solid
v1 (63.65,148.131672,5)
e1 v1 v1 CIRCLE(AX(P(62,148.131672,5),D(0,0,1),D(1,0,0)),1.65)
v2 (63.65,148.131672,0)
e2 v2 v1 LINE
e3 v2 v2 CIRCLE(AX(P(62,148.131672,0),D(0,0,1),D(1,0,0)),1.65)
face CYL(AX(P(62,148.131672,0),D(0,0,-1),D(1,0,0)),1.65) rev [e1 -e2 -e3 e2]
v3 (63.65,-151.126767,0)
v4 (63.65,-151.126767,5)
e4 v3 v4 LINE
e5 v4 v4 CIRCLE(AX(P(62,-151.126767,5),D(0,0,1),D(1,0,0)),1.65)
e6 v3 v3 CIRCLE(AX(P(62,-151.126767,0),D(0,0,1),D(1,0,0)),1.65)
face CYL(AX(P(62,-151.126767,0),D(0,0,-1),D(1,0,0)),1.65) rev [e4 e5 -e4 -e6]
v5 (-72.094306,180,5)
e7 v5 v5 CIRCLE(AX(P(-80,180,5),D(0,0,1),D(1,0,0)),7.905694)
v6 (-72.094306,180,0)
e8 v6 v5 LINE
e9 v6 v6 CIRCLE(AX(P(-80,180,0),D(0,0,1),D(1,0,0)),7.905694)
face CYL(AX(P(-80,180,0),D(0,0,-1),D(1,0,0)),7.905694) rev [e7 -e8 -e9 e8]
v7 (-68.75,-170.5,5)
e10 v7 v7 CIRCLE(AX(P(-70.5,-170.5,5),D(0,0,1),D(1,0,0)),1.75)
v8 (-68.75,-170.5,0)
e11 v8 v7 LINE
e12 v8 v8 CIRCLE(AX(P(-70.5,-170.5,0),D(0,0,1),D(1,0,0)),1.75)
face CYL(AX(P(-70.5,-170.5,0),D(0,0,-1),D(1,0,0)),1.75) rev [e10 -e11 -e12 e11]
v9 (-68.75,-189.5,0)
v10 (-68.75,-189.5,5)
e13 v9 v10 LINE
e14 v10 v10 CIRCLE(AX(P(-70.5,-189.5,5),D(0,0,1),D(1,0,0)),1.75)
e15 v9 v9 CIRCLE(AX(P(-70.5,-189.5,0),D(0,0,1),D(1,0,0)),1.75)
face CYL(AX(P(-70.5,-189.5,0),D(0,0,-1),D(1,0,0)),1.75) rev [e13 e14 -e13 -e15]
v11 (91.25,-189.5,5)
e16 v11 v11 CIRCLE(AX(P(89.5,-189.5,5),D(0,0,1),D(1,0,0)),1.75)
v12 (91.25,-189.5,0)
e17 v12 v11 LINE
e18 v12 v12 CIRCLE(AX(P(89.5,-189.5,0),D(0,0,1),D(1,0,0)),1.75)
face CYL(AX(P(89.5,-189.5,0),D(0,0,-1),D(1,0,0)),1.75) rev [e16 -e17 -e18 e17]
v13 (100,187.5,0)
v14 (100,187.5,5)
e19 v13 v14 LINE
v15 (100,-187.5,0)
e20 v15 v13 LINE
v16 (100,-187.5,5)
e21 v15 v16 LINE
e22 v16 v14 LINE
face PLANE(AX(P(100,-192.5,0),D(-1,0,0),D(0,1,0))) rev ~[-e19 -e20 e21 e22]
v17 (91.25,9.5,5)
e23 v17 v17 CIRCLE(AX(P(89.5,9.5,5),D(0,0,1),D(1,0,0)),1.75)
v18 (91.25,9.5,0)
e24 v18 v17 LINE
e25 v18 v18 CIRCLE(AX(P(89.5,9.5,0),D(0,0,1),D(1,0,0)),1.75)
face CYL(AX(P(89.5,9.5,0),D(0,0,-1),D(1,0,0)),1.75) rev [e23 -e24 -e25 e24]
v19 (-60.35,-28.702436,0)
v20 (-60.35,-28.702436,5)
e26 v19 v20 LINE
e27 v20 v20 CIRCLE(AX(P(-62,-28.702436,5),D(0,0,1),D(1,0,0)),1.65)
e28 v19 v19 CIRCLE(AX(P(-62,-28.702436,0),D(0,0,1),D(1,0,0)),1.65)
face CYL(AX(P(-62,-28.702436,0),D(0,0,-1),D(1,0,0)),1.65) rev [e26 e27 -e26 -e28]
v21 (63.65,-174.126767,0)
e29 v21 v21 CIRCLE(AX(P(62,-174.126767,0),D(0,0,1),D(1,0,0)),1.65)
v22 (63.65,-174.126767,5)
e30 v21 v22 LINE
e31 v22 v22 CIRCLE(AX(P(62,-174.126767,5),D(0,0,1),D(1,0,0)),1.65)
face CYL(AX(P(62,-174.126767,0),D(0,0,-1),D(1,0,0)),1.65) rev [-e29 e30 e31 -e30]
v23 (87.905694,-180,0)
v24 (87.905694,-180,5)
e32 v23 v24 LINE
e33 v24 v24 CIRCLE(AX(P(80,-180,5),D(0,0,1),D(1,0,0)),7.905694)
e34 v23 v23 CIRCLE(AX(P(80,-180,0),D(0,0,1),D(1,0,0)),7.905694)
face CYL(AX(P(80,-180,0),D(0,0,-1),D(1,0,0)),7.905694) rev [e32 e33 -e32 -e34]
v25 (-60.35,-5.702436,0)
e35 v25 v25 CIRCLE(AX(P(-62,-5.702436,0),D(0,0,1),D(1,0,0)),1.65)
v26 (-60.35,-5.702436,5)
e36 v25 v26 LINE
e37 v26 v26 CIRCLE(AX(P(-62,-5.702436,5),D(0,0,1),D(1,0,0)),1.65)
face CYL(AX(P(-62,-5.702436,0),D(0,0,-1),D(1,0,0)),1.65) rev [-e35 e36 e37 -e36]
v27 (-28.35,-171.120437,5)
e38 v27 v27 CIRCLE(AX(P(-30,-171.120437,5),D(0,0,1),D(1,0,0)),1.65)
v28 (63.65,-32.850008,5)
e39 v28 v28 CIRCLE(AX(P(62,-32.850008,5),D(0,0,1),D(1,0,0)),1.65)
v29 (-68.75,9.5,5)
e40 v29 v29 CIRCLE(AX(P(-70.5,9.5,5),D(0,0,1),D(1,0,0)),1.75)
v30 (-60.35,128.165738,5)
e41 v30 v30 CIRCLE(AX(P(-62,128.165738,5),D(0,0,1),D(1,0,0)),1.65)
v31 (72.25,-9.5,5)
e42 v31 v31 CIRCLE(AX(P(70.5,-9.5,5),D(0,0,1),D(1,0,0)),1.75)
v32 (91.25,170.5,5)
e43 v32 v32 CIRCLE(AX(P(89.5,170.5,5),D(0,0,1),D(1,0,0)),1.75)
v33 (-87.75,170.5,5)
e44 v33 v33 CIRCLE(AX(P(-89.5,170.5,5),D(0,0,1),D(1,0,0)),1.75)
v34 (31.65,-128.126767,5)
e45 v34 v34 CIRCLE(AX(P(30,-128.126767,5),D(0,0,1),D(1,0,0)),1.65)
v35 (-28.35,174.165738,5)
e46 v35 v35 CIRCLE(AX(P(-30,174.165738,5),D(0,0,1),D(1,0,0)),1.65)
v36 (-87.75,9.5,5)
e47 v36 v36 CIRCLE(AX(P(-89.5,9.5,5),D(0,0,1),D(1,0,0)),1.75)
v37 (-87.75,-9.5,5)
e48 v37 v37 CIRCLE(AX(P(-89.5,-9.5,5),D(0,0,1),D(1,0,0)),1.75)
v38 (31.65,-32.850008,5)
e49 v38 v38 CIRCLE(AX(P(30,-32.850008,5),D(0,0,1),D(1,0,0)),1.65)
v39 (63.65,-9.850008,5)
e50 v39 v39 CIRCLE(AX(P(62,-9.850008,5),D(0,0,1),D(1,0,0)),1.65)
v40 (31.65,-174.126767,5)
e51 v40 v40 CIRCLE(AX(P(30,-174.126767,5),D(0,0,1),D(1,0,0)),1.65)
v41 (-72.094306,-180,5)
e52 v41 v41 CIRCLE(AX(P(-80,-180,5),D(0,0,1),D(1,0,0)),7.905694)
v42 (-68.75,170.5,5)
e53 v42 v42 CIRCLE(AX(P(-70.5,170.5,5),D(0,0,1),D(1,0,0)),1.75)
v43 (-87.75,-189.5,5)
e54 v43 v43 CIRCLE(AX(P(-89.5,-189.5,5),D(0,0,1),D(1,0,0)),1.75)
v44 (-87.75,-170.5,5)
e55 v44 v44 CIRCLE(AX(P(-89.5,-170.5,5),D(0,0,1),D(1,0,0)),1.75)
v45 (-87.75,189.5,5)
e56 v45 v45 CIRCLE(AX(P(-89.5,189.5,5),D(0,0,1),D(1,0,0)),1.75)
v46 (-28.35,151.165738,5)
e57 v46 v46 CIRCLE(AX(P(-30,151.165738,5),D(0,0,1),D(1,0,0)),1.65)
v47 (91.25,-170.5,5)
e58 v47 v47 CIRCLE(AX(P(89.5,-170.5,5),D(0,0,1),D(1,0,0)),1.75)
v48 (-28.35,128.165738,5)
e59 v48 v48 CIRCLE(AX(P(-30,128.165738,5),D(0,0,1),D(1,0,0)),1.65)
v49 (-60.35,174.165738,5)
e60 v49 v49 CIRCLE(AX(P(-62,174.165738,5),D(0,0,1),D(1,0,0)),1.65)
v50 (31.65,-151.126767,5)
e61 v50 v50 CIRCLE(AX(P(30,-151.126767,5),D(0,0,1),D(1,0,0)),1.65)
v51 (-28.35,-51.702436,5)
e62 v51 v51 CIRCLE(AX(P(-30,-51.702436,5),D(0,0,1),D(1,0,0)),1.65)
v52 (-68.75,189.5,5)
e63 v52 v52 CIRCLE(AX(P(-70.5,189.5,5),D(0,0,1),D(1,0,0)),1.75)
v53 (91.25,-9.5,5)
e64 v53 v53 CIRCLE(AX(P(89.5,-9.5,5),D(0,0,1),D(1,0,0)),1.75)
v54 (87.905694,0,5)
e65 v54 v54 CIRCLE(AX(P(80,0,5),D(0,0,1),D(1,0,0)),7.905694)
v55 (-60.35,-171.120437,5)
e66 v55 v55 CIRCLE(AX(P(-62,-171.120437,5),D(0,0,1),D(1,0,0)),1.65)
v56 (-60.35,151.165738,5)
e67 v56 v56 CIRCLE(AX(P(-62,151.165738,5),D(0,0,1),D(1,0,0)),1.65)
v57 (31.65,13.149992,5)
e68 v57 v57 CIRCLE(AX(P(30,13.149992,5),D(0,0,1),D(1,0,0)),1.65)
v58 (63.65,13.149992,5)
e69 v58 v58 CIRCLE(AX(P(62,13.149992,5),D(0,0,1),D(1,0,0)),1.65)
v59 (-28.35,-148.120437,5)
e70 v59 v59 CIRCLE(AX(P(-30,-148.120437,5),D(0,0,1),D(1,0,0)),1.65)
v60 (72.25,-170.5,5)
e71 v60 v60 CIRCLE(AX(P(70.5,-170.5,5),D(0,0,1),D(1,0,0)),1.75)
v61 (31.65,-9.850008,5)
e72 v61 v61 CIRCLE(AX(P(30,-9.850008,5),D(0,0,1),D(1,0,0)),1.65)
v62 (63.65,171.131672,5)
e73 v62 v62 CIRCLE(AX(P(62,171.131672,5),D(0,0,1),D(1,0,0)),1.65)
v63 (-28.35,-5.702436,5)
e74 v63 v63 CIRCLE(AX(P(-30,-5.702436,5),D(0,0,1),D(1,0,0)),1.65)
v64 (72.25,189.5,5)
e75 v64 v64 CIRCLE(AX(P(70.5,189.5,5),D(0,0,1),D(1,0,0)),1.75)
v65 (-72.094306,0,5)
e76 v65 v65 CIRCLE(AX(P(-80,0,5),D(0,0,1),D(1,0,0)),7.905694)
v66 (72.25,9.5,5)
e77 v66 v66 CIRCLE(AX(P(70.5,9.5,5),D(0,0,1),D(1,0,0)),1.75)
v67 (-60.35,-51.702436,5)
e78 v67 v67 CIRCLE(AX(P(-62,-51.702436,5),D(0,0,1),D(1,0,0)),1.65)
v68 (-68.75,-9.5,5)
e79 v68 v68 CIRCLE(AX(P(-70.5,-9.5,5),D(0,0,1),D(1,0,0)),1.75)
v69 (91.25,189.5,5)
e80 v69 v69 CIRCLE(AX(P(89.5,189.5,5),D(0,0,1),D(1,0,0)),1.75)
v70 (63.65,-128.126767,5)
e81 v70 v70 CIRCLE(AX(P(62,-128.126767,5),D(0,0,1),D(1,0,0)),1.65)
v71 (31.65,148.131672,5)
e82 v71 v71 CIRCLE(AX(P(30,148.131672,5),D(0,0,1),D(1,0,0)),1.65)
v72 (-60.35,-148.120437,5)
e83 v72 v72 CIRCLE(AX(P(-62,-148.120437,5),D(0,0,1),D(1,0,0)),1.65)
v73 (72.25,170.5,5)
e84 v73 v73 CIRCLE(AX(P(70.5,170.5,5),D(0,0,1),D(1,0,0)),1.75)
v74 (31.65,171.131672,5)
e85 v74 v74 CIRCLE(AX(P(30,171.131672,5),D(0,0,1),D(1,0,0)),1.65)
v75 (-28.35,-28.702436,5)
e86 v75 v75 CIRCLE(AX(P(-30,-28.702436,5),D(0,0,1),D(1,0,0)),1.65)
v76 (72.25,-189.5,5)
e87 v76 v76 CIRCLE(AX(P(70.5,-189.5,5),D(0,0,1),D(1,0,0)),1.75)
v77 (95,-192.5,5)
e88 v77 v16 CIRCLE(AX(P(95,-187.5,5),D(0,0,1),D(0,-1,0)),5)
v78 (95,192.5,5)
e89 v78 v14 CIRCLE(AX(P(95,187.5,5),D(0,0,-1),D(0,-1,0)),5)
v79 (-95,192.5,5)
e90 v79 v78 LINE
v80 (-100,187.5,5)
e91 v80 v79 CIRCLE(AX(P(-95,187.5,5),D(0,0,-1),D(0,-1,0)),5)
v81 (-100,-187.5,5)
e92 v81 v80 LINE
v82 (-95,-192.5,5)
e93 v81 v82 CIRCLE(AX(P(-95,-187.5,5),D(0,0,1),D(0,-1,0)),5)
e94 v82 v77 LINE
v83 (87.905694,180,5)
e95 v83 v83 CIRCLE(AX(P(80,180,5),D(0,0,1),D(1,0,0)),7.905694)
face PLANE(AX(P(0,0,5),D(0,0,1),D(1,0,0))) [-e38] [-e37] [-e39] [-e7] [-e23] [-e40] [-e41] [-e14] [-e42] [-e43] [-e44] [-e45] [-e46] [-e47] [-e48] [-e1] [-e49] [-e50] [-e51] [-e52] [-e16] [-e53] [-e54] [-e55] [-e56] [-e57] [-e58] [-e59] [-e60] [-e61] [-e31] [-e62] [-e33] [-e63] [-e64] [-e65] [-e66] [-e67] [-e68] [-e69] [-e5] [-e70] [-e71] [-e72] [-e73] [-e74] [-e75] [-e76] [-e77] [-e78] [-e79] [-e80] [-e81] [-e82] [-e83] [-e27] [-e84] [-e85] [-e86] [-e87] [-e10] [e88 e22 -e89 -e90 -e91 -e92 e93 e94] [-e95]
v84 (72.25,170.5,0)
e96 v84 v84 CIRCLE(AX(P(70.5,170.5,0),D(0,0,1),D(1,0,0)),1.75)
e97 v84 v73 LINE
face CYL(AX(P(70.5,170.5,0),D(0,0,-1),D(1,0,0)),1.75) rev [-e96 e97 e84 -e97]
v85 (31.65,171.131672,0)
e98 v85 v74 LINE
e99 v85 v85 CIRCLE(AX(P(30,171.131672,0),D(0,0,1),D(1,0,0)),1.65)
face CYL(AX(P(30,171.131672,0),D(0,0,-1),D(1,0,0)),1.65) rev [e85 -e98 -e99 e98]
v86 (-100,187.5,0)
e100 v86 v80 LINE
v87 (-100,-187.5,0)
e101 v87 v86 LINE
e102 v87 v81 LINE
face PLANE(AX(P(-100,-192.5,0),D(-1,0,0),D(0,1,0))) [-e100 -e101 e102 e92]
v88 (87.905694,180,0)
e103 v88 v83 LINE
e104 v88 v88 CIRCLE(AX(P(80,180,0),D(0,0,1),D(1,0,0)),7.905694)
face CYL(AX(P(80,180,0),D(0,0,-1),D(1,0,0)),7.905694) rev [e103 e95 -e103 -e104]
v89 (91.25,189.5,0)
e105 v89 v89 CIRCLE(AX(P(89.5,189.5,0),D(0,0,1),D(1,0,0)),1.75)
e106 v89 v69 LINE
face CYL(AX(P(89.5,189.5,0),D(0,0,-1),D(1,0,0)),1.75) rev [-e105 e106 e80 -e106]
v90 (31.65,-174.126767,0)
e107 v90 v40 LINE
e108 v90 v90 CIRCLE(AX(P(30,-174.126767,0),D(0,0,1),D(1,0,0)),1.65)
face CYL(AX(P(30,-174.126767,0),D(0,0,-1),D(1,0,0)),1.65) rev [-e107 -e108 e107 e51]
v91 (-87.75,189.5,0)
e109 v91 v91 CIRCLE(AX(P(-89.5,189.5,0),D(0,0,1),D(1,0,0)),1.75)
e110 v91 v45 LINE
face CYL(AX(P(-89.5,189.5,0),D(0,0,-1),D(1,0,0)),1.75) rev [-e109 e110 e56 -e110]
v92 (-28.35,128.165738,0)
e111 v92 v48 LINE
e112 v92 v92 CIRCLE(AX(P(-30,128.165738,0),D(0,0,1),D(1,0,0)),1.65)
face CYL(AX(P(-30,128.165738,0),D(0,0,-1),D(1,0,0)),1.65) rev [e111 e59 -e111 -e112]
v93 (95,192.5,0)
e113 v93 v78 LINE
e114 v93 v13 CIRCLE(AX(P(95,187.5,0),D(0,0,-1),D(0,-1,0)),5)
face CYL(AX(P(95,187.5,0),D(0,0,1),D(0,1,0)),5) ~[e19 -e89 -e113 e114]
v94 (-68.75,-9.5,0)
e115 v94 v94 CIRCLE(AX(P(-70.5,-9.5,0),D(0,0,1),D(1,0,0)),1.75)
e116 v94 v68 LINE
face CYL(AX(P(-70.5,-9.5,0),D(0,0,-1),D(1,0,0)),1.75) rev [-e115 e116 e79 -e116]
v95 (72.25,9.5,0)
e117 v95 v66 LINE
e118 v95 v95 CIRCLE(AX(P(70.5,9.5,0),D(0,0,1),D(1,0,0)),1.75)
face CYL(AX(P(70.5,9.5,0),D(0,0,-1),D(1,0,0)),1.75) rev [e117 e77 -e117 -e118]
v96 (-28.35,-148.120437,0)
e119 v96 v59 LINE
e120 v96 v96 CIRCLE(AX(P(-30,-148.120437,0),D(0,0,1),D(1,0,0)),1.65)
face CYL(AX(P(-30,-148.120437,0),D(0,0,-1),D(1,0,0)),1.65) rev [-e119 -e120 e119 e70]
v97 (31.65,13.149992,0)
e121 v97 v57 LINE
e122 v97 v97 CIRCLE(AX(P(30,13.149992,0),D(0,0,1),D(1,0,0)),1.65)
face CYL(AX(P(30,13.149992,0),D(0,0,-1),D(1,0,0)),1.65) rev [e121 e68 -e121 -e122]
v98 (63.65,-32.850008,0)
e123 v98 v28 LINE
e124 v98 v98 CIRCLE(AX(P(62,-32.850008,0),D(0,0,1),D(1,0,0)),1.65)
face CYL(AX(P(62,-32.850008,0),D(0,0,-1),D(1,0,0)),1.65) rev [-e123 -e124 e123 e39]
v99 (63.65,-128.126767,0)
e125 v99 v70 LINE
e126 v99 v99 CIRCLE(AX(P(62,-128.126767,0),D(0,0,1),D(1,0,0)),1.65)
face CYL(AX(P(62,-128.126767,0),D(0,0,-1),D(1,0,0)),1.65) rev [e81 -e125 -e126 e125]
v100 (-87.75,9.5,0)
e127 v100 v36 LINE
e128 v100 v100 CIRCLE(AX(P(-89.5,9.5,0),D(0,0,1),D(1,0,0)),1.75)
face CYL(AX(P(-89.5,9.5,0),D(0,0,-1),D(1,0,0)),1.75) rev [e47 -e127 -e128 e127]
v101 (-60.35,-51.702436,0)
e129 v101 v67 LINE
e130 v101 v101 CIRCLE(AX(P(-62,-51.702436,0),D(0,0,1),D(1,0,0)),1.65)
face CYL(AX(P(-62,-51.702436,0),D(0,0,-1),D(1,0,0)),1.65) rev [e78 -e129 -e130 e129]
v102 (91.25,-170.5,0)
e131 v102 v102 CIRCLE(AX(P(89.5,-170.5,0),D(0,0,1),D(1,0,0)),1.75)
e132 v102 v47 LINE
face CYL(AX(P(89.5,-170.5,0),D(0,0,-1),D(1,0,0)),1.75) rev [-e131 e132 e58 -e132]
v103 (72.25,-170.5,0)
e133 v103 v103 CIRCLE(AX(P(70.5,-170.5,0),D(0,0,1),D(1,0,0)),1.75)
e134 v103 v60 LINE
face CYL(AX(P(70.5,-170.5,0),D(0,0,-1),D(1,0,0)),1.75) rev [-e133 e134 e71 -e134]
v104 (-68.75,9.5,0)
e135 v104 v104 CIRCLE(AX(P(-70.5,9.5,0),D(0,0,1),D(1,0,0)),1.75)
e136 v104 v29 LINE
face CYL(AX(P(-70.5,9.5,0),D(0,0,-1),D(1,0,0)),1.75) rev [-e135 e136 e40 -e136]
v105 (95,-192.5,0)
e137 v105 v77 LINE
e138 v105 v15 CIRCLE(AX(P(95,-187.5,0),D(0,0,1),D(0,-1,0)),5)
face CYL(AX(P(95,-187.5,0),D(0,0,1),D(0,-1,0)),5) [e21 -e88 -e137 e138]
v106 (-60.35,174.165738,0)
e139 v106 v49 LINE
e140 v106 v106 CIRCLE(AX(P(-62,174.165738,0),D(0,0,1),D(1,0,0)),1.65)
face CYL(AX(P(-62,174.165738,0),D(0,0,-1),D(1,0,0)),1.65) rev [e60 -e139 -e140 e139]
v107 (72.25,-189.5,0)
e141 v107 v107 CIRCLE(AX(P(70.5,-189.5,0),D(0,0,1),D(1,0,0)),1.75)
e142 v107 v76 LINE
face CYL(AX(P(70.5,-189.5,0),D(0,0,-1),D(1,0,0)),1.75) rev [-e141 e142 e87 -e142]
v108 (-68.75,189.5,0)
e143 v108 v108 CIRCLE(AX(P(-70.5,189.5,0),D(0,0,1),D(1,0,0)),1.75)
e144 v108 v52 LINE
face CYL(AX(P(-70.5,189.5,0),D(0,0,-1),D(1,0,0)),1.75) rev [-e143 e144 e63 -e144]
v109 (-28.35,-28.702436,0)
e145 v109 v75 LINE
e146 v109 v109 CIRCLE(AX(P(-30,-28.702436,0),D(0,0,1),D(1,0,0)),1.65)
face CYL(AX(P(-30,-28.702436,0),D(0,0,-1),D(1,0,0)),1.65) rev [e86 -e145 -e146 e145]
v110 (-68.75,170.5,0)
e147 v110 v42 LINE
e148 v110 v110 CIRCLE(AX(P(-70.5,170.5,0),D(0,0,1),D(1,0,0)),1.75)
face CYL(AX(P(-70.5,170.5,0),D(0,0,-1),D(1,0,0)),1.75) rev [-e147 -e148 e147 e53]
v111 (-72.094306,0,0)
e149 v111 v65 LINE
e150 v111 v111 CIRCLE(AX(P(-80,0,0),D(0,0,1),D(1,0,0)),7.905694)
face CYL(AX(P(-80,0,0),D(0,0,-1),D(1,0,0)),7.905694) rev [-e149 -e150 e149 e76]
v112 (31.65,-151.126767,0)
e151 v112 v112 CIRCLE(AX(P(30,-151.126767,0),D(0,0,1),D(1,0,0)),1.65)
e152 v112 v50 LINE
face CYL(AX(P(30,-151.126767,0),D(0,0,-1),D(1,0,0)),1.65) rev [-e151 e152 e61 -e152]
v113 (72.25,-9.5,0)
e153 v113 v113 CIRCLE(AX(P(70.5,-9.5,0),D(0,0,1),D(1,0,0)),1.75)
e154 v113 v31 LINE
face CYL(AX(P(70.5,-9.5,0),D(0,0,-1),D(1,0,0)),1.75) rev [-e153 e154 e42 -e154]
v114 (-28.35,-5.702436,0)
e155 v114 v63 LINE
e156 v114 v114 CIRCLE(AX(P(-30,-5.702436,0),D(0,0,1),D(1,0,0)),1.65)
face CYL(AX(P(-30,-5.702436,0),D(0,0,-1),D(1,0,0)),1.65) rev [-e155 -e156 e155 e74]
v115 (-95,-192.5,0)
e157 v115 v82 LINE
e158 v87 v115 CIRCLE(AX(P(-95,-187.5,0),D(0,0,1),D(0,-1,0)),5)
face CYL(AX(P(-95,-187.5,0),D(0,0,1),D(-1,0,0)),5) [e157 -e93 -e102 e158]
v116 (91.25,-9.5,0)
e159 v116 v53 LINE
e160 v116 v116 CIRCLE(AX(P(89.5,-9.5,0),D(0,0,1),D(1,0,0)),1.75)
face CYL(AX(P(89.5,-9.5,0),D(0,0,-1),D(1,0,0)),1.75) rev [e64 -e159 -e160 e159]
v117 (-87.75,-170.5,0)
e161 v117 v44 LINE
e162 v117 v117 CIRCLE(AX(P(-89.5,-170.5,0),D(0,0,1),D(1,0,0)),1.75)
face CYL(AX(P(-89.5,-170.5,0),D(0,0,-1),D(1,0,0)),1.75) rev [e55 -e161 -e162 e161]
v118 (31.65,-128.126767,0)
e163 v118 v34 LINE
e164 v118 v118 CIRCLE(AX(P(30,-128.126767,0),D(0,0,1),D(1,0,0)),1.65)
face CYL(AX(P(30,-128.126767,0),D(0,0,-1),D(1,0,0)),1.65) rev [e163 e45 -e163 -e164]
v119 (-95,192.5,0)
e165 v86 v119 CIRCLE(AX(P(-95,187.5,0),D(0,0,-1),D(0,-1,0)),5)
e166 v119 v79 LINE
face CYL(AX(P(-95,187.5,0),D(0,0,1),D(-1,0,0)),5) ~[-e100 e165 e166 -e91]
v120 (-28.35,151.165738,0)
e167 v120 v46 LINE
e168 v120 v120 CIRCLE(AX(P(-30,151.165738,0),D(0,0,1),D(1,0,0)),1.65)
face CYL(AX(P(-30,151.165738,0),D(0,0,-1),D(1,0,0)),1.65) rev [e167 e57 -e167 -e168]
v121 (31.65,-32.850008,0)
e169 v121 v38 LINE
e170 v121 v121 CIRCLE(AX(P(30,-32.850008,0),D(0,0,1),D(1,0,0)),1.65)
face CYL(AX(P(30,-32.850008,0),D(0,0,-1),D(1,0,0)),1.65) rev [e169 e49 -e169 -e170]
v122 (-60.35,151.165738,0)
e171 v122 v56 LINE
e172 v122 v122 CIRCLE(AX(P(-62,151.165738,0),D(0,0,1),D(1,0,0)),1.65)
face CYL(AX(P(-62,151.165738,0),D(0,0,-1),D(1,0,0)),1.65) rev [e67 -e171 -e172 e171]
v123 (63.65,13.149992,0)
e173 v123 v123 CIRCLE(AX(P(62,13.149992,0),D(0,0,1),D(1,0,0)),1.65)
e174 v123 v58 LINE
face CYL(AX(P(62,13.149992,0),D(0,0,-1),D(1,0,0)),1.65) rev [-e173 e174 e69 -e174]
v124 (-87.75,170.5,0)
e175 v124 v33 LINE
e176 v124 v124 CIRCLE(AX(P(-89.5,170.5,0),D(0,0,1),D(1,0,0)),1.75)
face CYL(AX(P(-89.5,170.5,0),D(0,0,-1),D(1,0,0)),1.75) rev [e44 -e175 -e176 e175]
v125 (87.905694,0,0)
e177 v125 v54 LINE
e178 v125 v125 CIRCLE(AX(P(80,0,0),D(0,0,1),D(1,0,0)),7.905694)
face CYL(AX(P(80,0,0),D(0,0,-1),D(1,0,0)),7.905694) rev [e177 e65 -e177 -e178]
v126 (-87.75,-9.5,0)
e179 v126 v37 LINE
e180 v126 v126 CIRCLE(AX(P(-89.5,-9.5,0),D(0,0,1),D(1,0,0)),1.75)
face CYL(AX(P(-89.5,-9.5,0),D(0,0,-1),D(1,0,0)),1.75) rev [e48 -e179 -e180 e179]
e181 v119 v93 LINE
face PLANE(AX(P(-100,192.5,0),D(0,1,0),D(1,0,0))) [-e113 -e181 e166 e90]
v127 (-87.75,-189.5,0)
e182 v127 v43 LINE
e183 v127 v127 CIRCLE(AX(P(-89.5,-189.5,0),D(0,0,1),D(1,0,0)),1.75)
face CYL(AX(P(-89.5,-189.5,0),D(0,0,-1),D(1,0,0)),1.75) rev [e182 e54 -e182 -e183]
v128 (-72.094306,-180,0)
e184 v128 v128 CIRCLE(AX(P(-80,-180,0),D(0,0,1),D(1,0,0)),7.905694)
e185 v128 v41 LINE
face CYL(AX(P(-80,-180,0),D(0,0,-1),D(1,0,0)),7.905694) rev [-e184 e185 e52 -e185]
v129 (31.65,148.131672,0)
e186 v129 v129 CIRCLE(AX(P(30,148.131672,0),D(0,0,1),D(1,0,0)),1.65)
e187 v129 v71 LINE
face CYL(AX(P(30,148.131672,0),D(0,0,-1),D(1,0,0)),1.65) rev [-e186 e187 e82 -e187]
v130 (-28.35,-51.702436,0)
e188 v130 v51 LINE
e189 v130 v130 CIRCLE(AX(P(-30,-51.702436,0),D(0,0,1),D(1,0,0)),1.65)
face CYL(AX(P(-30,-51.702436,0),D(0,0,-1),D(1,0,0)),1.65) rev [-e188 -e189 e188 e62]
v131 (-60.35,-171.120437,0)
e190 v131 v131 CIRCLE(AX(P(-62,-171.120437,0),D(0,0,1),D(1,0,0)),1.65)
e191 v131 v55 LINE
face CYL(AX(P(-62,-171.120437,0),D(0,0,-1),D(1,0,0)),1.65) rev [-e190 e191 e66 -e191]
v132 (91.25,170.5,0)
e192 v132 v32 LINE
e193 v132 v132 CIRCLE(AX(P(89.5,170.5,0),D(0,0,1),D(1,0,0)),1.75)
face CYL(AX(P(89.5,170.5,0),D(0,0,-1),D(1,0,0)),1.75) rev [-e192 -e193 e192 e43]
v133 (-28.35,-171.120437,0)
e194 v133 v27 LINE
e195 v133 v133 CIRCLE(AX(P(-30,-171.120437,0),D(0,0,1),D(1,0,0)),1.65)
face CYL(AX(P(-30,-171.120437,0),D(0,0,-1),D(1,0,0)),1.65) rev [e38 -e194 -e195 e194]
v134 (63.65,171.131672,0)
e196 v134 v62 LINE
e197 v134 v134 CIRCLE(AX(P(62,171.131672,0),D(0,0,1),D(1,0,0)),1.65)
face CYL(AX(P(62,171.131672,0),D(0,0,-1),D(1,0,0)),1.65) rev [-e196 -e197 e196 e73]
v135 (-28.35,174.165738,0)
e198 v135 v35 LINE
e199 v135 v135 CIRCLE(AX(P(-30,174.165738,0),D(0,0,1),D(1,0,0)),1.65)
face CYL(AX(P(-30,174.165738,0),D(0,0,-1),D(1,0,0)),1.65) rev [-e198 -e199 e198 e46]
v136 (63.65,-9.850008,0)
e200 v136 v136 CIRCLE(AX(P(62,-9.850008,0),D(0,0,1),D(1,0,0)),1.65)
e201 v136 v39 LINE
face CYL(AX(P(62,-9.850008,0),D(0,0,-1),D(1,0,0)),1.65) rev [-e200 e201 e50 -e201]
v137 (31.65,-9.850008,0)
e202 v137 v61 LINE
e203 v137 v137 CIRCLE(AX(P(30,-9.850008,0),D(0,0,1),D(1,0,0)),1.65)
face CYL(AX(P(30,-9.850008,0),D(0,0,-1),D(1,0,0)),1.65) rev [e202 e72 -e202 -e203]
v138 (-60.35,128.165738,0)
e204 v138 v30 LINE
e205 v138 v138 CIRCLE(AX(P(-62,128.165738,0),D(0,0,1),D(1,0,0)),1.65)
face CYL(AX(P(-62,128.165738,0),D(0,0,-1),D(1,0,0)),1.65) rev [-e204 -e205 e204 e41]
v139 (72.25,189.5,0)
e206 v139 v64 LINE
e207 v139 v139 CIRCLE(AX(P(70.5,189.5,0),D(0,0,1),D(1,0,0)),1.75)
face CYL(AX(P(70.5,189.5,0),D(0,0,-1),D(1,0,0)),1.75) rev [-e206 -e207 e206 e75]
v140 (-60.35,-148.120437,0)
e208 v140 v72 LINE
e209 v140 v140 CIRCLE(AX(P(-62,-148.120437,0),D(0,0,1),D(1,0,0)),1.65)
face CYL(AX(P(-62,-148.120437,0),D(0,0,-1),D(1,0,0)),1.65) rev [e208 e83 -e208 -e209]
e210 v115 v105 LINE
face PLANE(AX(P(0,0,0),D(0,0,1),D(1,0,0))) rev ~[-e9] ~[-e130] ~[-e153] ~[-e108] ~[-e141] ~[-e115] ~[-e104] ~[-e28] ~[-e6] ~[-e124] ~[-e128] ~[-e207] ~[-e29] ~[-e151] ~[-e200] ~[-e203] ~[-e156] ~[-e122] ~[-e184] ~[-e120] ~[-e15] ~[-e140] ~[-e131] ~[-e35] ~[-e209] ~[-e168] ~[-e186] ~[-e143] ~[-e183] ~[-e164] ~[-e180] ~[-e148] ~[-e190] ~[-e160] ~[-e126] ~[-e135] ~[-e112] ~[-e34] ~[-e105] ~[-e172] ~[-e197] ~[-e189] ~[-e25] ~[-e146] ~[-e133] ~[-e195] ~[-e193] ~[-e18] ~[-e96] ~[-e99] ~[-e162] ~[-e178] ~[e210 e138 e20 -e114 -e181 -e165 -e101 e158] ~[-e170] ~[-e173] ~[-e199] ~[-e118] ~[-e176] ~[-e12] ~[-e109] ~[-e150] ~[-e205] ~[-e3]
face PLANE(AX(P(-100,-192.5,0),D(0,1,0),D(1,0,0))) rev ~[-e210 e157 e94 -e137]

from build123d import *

# Parameters (mm, degrees)
SKETCH_1_W      = 200
SKETCH_1_H      = 385
SKETCH_1_R      = 7.90569415
SKETCH_1_R_2    = 1.65
SKETCH_1_R_3    = 1.75
EXTRUDE_1_DEPTH = 5
FILLET_1_R      = 5


with BuildPart() as part:
    # 草图1 → 凸台-拉伸1 (new body)
    with BuildSketch(Plane.XY):
        Rectangle(SKETCH_1_W, SKETCH_1_H)
        with Locations((-80, 180)):
            Circle(SKETCH_1_R, mode=Mode.SUBTRACT)
        with Locations((-80, 0)):
            Circle(SKETCH_1_R, mode=Mode.SUBTRACT)
        with Locations((-80, -180)):
            Circle(SKETCH_1_R, mode=Mode.SUBTRACT)
        with Locations((80, -180)):
            Circle(SKETCH_1_R, mode=Mode.SUBTRACT)
        with Locations((80, 0)):
            Circle(SKETCH_1_R, mode=Mode.SUBTRACT)
        with Locations((80, 180)):
            Circle(SKETCH_1_R, mode=Mode.SUBTRACT)
        with Locations((-30, 174.165738454)):
            Circle(SKETCH_1_R_2, mode=Mode.SUBTRACT)
        with Locations((-30, 151.165738454)):
            Circle(SKETCH_1_R_2, mode=Mode.SUBTRACT)
        with Locations((-30, 128.165738454)):
            Circle(SKETCH_1_R_2, mode=Mode.SUBTRACT)
        with Locations((-62, 128.165738454)):
            Circle(SKETCH_1_R_2, mode=Mode.SUBTRACT)
        with Locations((-62, 151.165738454)):
            Circle(SKETCH_1_R_2, mode=Mode.SUBTRACT)
        with Locations((-62, 174.165738454)):
            Circle(SKETCH_1_R_2, mode=Mode.SUBTRACT)
        with Locations((-30, -5.702436416)):
            Circle(SKETCH_1_R_2, mode=Mode.SUBTRACT)
        with Locations((-30, -28.702436416)):
            Circle(SKETCH_1_R_2, mode=Mode.SUBTRACT)
        with Locations((-30, -51.702436416)):
            Circle(SKETCH_1_R_2, mode=Mode.SUBTRACT)
        with Locations((-62, -51.702436416)):
            Circle(SKETCH_1_R_2, mode=Mode.SUBTRACT)
        with Locations((-62, -28.702436416)):
            Circle(SKETCH_1_R_2, mode=Mode.SUBTRACT)
        with Locations((-62, -5.702436416)):
            Circle(SKETCH_1_R_2, mode=Mode.SUBTRACT)
        with Locations((30, -128.126766598)):
            Circle(SKETCH_1_R_2, mode=Mode.SUBTRACT)
        with Locations((30, -151.126766598)):
            Circle(SKETCH_1_R_2, mode=Mode.SUBTRACT)
        with Locations((30, -174.126766598)):
            Circle(SKETCH_1_R_2, mode=Mode.SUBTRACT)
        with Locations((62, -174.126766598)):
            Circle(SKETCH_1_R_2, mode=Mode.SUBTRACT)
        with Locations((62, -151.126766598)):
            Circle(SKETCH_1_R_2, mode=Mode.SUBTRACT)
        with Locations((62, -128.126766598)):
            Circle(SKETCH_1_R_2, mode=Mode.SUBTRACT)
        with Locations((-30, -148.12043677)):
            Circle(SKETCH_1_R_2, mode=Mode.SUBTRACT)
        with Locations((-30, -171.12043677)):
            Circle(SKETCH_1_R_2, mode=Mode.SUBTRACT)
        with Locations((-62, -171.12043677)):
            Circle(SKETCH_1_R_2, mode=Mode.SUBTRACT)
        with Locations((-62, -148.12043677)):
            Circle(SKETCH_1_R_2, mode=Mode.SUBTRACT)
        with Locations((30, 13.14999216)):
            Circle(SKETCH_1_R_2, mode=Mode.SUBTRACT)
        with Locations((30, -9.85000784)):
            Circle(SKETCH_1_R_2, mode=Mode.SUBTRACT)
        with Locations((30, -32.85000784)):
            Circle(SKETCH_1_R_2, mode=Mode.SUBTRACT)
        with Locations((62, -32.85000784)):
            Circle(SKETCH_1_R_2, mode=Mode.SUBTRACT)
        with Locations((62, -9.85000784)):
            Circle(SKETCH_1_R_2, mode=Mode.SUBTRACT)
        with Locations((62, 13.14999216)):
            Circle(SKETCH_1_R_2, mode=Mode.SUBTRACT)
        with Locations((30, 171.131672491)):
            Circle(SKETCH_1_R_2, mode=Mode.SUBTRACT)
        with Locations((30, 148.131672491)):
            Circle(SKETCH_1_R_2, mode=Mode.SUBTRACT)
        with Locations((62, 148.131672491)):
            Circle(SKETCH_1_R_2, mode=Mode.SUBTRACT)
        with Locations((62, 171.131672491)):
            Circle(SKETCH_1_R_2, mode=Mode.SUBTRACT)
        with Locations((89.5, -170.5)):
            Circle(SKETCH_1_R_3, mode=Mode.SUBTRACT)
        with Locations((89.5, -189.5)):
            Circle(SKETCH_1_R_3, mode=Mode.SUBTRACT)
        with Locations((70.5, -189.5)):
            Circle(SKETCH_1_R_3, mode=Mode.SUBTRACT)
        with Locations((70.5, -170.5)):
            Circle(SKETCH_1_R_3, mode=Mode.SUBTRACT)
        with Locations((-70.5, -170.5)):
            Circle(SKETCH_1_R_3, mode=Mode.SUBTRACT)
        with Locations((-70.5, -189.5)):
            Circle(SKETCH_1_R_3, mode=Mode.SUBTRACT)
        with Locations((-89.5, -189.5)):
            Circle(SKETCH_1_R_3, mode=Mode.SUBTRACT)
        with Locations((-89.5, -170.5)):
            Circle(SKETCH_1_R_3, mode=Mode.SUBTRACT)
        with Locations((89.5, -9.5)):
            Circle(SKETCH_1_R_3, mode=Mode.SUBTRACT)
        with Locations((70.5, -9.5)):
            Circle(SKETCH_1_R_3, mode=Mode.SUBTRACT)
        with Locations((89.5, 9.5)):
            Circle(SKETCH_1_R_3, mode=Mode.SUBTRACT)
        with Locations((70.5, 9.5)):
            Circle(SKETCH_1_R_3, mode=Mode.SUBTRACT)
        with Locations((89.5, 170.5)):
            Circle(SKETCH_1_R_3, mode=Mode.SUBTRACT)
        with Locations((70.5, 170.5)):
            Circle(SKETCH_1_R_3, mode=Mode.SUBTRACT)
        with Locations((89.5, 189.5)):
            Circle(SKETCH_1_R_3, mode=Mode.SUBTRACT)
        with Locations((70.5, 189.5)):
            Circle(SKETCH_1_R_3, mode=Mode.SUBTRACT)
        with Locations((-70.5, 170.5)):
            Circle(SKETCH_1_R_3, mode=Mode.SUBTRACT)
        with Locations((-89.5, 170.5)):
            Circle(SKETCH_1_R_3, mode=Mode.SUBTRACT)
        with Locations((-70.5, 189.5)):
            Circle(SKETCH_1_R_3, mode=Mode.SUBTRACT)
        with Locations((-89.5, 189.5)):
            Circle(SKETCH_1_R_3, mode=Mode.SUBTRACT)
        with Locations((-89.5, -9.5)):
            Circle(SKETCH_1_R_3, mode=Mode.SUBTRACT)
        with Locations((-70.5, -9.5)):
            Circle(SKETCH_1_R_3, mode=Mode.SUBTRACT)
        with Locations((-70.5, 9.5)):
            Circle(SKETCH_1_R_3, mode=Mode.SUBTRACT)
        with Locations((-89.5, 9.5)):
            Circle(SKETCH_1_R_3, mode=Mode.SUBTRACT)
    extrude(amount=EXTRUDE_1_DEPTH)

    # 圆角1
    fillet_1_edges = [part.edges().sort_by_distance(p)[0] for p in [
        (-100, 192.5, 2.5),
        (100, 192.5, 2.5),
        (100, -192.5, 2.5),
        (-100, -192.5, 2.5),
    ]]
    fillet(fillet_1_edges, radius=FILLET_1_R)


solid = part.part
